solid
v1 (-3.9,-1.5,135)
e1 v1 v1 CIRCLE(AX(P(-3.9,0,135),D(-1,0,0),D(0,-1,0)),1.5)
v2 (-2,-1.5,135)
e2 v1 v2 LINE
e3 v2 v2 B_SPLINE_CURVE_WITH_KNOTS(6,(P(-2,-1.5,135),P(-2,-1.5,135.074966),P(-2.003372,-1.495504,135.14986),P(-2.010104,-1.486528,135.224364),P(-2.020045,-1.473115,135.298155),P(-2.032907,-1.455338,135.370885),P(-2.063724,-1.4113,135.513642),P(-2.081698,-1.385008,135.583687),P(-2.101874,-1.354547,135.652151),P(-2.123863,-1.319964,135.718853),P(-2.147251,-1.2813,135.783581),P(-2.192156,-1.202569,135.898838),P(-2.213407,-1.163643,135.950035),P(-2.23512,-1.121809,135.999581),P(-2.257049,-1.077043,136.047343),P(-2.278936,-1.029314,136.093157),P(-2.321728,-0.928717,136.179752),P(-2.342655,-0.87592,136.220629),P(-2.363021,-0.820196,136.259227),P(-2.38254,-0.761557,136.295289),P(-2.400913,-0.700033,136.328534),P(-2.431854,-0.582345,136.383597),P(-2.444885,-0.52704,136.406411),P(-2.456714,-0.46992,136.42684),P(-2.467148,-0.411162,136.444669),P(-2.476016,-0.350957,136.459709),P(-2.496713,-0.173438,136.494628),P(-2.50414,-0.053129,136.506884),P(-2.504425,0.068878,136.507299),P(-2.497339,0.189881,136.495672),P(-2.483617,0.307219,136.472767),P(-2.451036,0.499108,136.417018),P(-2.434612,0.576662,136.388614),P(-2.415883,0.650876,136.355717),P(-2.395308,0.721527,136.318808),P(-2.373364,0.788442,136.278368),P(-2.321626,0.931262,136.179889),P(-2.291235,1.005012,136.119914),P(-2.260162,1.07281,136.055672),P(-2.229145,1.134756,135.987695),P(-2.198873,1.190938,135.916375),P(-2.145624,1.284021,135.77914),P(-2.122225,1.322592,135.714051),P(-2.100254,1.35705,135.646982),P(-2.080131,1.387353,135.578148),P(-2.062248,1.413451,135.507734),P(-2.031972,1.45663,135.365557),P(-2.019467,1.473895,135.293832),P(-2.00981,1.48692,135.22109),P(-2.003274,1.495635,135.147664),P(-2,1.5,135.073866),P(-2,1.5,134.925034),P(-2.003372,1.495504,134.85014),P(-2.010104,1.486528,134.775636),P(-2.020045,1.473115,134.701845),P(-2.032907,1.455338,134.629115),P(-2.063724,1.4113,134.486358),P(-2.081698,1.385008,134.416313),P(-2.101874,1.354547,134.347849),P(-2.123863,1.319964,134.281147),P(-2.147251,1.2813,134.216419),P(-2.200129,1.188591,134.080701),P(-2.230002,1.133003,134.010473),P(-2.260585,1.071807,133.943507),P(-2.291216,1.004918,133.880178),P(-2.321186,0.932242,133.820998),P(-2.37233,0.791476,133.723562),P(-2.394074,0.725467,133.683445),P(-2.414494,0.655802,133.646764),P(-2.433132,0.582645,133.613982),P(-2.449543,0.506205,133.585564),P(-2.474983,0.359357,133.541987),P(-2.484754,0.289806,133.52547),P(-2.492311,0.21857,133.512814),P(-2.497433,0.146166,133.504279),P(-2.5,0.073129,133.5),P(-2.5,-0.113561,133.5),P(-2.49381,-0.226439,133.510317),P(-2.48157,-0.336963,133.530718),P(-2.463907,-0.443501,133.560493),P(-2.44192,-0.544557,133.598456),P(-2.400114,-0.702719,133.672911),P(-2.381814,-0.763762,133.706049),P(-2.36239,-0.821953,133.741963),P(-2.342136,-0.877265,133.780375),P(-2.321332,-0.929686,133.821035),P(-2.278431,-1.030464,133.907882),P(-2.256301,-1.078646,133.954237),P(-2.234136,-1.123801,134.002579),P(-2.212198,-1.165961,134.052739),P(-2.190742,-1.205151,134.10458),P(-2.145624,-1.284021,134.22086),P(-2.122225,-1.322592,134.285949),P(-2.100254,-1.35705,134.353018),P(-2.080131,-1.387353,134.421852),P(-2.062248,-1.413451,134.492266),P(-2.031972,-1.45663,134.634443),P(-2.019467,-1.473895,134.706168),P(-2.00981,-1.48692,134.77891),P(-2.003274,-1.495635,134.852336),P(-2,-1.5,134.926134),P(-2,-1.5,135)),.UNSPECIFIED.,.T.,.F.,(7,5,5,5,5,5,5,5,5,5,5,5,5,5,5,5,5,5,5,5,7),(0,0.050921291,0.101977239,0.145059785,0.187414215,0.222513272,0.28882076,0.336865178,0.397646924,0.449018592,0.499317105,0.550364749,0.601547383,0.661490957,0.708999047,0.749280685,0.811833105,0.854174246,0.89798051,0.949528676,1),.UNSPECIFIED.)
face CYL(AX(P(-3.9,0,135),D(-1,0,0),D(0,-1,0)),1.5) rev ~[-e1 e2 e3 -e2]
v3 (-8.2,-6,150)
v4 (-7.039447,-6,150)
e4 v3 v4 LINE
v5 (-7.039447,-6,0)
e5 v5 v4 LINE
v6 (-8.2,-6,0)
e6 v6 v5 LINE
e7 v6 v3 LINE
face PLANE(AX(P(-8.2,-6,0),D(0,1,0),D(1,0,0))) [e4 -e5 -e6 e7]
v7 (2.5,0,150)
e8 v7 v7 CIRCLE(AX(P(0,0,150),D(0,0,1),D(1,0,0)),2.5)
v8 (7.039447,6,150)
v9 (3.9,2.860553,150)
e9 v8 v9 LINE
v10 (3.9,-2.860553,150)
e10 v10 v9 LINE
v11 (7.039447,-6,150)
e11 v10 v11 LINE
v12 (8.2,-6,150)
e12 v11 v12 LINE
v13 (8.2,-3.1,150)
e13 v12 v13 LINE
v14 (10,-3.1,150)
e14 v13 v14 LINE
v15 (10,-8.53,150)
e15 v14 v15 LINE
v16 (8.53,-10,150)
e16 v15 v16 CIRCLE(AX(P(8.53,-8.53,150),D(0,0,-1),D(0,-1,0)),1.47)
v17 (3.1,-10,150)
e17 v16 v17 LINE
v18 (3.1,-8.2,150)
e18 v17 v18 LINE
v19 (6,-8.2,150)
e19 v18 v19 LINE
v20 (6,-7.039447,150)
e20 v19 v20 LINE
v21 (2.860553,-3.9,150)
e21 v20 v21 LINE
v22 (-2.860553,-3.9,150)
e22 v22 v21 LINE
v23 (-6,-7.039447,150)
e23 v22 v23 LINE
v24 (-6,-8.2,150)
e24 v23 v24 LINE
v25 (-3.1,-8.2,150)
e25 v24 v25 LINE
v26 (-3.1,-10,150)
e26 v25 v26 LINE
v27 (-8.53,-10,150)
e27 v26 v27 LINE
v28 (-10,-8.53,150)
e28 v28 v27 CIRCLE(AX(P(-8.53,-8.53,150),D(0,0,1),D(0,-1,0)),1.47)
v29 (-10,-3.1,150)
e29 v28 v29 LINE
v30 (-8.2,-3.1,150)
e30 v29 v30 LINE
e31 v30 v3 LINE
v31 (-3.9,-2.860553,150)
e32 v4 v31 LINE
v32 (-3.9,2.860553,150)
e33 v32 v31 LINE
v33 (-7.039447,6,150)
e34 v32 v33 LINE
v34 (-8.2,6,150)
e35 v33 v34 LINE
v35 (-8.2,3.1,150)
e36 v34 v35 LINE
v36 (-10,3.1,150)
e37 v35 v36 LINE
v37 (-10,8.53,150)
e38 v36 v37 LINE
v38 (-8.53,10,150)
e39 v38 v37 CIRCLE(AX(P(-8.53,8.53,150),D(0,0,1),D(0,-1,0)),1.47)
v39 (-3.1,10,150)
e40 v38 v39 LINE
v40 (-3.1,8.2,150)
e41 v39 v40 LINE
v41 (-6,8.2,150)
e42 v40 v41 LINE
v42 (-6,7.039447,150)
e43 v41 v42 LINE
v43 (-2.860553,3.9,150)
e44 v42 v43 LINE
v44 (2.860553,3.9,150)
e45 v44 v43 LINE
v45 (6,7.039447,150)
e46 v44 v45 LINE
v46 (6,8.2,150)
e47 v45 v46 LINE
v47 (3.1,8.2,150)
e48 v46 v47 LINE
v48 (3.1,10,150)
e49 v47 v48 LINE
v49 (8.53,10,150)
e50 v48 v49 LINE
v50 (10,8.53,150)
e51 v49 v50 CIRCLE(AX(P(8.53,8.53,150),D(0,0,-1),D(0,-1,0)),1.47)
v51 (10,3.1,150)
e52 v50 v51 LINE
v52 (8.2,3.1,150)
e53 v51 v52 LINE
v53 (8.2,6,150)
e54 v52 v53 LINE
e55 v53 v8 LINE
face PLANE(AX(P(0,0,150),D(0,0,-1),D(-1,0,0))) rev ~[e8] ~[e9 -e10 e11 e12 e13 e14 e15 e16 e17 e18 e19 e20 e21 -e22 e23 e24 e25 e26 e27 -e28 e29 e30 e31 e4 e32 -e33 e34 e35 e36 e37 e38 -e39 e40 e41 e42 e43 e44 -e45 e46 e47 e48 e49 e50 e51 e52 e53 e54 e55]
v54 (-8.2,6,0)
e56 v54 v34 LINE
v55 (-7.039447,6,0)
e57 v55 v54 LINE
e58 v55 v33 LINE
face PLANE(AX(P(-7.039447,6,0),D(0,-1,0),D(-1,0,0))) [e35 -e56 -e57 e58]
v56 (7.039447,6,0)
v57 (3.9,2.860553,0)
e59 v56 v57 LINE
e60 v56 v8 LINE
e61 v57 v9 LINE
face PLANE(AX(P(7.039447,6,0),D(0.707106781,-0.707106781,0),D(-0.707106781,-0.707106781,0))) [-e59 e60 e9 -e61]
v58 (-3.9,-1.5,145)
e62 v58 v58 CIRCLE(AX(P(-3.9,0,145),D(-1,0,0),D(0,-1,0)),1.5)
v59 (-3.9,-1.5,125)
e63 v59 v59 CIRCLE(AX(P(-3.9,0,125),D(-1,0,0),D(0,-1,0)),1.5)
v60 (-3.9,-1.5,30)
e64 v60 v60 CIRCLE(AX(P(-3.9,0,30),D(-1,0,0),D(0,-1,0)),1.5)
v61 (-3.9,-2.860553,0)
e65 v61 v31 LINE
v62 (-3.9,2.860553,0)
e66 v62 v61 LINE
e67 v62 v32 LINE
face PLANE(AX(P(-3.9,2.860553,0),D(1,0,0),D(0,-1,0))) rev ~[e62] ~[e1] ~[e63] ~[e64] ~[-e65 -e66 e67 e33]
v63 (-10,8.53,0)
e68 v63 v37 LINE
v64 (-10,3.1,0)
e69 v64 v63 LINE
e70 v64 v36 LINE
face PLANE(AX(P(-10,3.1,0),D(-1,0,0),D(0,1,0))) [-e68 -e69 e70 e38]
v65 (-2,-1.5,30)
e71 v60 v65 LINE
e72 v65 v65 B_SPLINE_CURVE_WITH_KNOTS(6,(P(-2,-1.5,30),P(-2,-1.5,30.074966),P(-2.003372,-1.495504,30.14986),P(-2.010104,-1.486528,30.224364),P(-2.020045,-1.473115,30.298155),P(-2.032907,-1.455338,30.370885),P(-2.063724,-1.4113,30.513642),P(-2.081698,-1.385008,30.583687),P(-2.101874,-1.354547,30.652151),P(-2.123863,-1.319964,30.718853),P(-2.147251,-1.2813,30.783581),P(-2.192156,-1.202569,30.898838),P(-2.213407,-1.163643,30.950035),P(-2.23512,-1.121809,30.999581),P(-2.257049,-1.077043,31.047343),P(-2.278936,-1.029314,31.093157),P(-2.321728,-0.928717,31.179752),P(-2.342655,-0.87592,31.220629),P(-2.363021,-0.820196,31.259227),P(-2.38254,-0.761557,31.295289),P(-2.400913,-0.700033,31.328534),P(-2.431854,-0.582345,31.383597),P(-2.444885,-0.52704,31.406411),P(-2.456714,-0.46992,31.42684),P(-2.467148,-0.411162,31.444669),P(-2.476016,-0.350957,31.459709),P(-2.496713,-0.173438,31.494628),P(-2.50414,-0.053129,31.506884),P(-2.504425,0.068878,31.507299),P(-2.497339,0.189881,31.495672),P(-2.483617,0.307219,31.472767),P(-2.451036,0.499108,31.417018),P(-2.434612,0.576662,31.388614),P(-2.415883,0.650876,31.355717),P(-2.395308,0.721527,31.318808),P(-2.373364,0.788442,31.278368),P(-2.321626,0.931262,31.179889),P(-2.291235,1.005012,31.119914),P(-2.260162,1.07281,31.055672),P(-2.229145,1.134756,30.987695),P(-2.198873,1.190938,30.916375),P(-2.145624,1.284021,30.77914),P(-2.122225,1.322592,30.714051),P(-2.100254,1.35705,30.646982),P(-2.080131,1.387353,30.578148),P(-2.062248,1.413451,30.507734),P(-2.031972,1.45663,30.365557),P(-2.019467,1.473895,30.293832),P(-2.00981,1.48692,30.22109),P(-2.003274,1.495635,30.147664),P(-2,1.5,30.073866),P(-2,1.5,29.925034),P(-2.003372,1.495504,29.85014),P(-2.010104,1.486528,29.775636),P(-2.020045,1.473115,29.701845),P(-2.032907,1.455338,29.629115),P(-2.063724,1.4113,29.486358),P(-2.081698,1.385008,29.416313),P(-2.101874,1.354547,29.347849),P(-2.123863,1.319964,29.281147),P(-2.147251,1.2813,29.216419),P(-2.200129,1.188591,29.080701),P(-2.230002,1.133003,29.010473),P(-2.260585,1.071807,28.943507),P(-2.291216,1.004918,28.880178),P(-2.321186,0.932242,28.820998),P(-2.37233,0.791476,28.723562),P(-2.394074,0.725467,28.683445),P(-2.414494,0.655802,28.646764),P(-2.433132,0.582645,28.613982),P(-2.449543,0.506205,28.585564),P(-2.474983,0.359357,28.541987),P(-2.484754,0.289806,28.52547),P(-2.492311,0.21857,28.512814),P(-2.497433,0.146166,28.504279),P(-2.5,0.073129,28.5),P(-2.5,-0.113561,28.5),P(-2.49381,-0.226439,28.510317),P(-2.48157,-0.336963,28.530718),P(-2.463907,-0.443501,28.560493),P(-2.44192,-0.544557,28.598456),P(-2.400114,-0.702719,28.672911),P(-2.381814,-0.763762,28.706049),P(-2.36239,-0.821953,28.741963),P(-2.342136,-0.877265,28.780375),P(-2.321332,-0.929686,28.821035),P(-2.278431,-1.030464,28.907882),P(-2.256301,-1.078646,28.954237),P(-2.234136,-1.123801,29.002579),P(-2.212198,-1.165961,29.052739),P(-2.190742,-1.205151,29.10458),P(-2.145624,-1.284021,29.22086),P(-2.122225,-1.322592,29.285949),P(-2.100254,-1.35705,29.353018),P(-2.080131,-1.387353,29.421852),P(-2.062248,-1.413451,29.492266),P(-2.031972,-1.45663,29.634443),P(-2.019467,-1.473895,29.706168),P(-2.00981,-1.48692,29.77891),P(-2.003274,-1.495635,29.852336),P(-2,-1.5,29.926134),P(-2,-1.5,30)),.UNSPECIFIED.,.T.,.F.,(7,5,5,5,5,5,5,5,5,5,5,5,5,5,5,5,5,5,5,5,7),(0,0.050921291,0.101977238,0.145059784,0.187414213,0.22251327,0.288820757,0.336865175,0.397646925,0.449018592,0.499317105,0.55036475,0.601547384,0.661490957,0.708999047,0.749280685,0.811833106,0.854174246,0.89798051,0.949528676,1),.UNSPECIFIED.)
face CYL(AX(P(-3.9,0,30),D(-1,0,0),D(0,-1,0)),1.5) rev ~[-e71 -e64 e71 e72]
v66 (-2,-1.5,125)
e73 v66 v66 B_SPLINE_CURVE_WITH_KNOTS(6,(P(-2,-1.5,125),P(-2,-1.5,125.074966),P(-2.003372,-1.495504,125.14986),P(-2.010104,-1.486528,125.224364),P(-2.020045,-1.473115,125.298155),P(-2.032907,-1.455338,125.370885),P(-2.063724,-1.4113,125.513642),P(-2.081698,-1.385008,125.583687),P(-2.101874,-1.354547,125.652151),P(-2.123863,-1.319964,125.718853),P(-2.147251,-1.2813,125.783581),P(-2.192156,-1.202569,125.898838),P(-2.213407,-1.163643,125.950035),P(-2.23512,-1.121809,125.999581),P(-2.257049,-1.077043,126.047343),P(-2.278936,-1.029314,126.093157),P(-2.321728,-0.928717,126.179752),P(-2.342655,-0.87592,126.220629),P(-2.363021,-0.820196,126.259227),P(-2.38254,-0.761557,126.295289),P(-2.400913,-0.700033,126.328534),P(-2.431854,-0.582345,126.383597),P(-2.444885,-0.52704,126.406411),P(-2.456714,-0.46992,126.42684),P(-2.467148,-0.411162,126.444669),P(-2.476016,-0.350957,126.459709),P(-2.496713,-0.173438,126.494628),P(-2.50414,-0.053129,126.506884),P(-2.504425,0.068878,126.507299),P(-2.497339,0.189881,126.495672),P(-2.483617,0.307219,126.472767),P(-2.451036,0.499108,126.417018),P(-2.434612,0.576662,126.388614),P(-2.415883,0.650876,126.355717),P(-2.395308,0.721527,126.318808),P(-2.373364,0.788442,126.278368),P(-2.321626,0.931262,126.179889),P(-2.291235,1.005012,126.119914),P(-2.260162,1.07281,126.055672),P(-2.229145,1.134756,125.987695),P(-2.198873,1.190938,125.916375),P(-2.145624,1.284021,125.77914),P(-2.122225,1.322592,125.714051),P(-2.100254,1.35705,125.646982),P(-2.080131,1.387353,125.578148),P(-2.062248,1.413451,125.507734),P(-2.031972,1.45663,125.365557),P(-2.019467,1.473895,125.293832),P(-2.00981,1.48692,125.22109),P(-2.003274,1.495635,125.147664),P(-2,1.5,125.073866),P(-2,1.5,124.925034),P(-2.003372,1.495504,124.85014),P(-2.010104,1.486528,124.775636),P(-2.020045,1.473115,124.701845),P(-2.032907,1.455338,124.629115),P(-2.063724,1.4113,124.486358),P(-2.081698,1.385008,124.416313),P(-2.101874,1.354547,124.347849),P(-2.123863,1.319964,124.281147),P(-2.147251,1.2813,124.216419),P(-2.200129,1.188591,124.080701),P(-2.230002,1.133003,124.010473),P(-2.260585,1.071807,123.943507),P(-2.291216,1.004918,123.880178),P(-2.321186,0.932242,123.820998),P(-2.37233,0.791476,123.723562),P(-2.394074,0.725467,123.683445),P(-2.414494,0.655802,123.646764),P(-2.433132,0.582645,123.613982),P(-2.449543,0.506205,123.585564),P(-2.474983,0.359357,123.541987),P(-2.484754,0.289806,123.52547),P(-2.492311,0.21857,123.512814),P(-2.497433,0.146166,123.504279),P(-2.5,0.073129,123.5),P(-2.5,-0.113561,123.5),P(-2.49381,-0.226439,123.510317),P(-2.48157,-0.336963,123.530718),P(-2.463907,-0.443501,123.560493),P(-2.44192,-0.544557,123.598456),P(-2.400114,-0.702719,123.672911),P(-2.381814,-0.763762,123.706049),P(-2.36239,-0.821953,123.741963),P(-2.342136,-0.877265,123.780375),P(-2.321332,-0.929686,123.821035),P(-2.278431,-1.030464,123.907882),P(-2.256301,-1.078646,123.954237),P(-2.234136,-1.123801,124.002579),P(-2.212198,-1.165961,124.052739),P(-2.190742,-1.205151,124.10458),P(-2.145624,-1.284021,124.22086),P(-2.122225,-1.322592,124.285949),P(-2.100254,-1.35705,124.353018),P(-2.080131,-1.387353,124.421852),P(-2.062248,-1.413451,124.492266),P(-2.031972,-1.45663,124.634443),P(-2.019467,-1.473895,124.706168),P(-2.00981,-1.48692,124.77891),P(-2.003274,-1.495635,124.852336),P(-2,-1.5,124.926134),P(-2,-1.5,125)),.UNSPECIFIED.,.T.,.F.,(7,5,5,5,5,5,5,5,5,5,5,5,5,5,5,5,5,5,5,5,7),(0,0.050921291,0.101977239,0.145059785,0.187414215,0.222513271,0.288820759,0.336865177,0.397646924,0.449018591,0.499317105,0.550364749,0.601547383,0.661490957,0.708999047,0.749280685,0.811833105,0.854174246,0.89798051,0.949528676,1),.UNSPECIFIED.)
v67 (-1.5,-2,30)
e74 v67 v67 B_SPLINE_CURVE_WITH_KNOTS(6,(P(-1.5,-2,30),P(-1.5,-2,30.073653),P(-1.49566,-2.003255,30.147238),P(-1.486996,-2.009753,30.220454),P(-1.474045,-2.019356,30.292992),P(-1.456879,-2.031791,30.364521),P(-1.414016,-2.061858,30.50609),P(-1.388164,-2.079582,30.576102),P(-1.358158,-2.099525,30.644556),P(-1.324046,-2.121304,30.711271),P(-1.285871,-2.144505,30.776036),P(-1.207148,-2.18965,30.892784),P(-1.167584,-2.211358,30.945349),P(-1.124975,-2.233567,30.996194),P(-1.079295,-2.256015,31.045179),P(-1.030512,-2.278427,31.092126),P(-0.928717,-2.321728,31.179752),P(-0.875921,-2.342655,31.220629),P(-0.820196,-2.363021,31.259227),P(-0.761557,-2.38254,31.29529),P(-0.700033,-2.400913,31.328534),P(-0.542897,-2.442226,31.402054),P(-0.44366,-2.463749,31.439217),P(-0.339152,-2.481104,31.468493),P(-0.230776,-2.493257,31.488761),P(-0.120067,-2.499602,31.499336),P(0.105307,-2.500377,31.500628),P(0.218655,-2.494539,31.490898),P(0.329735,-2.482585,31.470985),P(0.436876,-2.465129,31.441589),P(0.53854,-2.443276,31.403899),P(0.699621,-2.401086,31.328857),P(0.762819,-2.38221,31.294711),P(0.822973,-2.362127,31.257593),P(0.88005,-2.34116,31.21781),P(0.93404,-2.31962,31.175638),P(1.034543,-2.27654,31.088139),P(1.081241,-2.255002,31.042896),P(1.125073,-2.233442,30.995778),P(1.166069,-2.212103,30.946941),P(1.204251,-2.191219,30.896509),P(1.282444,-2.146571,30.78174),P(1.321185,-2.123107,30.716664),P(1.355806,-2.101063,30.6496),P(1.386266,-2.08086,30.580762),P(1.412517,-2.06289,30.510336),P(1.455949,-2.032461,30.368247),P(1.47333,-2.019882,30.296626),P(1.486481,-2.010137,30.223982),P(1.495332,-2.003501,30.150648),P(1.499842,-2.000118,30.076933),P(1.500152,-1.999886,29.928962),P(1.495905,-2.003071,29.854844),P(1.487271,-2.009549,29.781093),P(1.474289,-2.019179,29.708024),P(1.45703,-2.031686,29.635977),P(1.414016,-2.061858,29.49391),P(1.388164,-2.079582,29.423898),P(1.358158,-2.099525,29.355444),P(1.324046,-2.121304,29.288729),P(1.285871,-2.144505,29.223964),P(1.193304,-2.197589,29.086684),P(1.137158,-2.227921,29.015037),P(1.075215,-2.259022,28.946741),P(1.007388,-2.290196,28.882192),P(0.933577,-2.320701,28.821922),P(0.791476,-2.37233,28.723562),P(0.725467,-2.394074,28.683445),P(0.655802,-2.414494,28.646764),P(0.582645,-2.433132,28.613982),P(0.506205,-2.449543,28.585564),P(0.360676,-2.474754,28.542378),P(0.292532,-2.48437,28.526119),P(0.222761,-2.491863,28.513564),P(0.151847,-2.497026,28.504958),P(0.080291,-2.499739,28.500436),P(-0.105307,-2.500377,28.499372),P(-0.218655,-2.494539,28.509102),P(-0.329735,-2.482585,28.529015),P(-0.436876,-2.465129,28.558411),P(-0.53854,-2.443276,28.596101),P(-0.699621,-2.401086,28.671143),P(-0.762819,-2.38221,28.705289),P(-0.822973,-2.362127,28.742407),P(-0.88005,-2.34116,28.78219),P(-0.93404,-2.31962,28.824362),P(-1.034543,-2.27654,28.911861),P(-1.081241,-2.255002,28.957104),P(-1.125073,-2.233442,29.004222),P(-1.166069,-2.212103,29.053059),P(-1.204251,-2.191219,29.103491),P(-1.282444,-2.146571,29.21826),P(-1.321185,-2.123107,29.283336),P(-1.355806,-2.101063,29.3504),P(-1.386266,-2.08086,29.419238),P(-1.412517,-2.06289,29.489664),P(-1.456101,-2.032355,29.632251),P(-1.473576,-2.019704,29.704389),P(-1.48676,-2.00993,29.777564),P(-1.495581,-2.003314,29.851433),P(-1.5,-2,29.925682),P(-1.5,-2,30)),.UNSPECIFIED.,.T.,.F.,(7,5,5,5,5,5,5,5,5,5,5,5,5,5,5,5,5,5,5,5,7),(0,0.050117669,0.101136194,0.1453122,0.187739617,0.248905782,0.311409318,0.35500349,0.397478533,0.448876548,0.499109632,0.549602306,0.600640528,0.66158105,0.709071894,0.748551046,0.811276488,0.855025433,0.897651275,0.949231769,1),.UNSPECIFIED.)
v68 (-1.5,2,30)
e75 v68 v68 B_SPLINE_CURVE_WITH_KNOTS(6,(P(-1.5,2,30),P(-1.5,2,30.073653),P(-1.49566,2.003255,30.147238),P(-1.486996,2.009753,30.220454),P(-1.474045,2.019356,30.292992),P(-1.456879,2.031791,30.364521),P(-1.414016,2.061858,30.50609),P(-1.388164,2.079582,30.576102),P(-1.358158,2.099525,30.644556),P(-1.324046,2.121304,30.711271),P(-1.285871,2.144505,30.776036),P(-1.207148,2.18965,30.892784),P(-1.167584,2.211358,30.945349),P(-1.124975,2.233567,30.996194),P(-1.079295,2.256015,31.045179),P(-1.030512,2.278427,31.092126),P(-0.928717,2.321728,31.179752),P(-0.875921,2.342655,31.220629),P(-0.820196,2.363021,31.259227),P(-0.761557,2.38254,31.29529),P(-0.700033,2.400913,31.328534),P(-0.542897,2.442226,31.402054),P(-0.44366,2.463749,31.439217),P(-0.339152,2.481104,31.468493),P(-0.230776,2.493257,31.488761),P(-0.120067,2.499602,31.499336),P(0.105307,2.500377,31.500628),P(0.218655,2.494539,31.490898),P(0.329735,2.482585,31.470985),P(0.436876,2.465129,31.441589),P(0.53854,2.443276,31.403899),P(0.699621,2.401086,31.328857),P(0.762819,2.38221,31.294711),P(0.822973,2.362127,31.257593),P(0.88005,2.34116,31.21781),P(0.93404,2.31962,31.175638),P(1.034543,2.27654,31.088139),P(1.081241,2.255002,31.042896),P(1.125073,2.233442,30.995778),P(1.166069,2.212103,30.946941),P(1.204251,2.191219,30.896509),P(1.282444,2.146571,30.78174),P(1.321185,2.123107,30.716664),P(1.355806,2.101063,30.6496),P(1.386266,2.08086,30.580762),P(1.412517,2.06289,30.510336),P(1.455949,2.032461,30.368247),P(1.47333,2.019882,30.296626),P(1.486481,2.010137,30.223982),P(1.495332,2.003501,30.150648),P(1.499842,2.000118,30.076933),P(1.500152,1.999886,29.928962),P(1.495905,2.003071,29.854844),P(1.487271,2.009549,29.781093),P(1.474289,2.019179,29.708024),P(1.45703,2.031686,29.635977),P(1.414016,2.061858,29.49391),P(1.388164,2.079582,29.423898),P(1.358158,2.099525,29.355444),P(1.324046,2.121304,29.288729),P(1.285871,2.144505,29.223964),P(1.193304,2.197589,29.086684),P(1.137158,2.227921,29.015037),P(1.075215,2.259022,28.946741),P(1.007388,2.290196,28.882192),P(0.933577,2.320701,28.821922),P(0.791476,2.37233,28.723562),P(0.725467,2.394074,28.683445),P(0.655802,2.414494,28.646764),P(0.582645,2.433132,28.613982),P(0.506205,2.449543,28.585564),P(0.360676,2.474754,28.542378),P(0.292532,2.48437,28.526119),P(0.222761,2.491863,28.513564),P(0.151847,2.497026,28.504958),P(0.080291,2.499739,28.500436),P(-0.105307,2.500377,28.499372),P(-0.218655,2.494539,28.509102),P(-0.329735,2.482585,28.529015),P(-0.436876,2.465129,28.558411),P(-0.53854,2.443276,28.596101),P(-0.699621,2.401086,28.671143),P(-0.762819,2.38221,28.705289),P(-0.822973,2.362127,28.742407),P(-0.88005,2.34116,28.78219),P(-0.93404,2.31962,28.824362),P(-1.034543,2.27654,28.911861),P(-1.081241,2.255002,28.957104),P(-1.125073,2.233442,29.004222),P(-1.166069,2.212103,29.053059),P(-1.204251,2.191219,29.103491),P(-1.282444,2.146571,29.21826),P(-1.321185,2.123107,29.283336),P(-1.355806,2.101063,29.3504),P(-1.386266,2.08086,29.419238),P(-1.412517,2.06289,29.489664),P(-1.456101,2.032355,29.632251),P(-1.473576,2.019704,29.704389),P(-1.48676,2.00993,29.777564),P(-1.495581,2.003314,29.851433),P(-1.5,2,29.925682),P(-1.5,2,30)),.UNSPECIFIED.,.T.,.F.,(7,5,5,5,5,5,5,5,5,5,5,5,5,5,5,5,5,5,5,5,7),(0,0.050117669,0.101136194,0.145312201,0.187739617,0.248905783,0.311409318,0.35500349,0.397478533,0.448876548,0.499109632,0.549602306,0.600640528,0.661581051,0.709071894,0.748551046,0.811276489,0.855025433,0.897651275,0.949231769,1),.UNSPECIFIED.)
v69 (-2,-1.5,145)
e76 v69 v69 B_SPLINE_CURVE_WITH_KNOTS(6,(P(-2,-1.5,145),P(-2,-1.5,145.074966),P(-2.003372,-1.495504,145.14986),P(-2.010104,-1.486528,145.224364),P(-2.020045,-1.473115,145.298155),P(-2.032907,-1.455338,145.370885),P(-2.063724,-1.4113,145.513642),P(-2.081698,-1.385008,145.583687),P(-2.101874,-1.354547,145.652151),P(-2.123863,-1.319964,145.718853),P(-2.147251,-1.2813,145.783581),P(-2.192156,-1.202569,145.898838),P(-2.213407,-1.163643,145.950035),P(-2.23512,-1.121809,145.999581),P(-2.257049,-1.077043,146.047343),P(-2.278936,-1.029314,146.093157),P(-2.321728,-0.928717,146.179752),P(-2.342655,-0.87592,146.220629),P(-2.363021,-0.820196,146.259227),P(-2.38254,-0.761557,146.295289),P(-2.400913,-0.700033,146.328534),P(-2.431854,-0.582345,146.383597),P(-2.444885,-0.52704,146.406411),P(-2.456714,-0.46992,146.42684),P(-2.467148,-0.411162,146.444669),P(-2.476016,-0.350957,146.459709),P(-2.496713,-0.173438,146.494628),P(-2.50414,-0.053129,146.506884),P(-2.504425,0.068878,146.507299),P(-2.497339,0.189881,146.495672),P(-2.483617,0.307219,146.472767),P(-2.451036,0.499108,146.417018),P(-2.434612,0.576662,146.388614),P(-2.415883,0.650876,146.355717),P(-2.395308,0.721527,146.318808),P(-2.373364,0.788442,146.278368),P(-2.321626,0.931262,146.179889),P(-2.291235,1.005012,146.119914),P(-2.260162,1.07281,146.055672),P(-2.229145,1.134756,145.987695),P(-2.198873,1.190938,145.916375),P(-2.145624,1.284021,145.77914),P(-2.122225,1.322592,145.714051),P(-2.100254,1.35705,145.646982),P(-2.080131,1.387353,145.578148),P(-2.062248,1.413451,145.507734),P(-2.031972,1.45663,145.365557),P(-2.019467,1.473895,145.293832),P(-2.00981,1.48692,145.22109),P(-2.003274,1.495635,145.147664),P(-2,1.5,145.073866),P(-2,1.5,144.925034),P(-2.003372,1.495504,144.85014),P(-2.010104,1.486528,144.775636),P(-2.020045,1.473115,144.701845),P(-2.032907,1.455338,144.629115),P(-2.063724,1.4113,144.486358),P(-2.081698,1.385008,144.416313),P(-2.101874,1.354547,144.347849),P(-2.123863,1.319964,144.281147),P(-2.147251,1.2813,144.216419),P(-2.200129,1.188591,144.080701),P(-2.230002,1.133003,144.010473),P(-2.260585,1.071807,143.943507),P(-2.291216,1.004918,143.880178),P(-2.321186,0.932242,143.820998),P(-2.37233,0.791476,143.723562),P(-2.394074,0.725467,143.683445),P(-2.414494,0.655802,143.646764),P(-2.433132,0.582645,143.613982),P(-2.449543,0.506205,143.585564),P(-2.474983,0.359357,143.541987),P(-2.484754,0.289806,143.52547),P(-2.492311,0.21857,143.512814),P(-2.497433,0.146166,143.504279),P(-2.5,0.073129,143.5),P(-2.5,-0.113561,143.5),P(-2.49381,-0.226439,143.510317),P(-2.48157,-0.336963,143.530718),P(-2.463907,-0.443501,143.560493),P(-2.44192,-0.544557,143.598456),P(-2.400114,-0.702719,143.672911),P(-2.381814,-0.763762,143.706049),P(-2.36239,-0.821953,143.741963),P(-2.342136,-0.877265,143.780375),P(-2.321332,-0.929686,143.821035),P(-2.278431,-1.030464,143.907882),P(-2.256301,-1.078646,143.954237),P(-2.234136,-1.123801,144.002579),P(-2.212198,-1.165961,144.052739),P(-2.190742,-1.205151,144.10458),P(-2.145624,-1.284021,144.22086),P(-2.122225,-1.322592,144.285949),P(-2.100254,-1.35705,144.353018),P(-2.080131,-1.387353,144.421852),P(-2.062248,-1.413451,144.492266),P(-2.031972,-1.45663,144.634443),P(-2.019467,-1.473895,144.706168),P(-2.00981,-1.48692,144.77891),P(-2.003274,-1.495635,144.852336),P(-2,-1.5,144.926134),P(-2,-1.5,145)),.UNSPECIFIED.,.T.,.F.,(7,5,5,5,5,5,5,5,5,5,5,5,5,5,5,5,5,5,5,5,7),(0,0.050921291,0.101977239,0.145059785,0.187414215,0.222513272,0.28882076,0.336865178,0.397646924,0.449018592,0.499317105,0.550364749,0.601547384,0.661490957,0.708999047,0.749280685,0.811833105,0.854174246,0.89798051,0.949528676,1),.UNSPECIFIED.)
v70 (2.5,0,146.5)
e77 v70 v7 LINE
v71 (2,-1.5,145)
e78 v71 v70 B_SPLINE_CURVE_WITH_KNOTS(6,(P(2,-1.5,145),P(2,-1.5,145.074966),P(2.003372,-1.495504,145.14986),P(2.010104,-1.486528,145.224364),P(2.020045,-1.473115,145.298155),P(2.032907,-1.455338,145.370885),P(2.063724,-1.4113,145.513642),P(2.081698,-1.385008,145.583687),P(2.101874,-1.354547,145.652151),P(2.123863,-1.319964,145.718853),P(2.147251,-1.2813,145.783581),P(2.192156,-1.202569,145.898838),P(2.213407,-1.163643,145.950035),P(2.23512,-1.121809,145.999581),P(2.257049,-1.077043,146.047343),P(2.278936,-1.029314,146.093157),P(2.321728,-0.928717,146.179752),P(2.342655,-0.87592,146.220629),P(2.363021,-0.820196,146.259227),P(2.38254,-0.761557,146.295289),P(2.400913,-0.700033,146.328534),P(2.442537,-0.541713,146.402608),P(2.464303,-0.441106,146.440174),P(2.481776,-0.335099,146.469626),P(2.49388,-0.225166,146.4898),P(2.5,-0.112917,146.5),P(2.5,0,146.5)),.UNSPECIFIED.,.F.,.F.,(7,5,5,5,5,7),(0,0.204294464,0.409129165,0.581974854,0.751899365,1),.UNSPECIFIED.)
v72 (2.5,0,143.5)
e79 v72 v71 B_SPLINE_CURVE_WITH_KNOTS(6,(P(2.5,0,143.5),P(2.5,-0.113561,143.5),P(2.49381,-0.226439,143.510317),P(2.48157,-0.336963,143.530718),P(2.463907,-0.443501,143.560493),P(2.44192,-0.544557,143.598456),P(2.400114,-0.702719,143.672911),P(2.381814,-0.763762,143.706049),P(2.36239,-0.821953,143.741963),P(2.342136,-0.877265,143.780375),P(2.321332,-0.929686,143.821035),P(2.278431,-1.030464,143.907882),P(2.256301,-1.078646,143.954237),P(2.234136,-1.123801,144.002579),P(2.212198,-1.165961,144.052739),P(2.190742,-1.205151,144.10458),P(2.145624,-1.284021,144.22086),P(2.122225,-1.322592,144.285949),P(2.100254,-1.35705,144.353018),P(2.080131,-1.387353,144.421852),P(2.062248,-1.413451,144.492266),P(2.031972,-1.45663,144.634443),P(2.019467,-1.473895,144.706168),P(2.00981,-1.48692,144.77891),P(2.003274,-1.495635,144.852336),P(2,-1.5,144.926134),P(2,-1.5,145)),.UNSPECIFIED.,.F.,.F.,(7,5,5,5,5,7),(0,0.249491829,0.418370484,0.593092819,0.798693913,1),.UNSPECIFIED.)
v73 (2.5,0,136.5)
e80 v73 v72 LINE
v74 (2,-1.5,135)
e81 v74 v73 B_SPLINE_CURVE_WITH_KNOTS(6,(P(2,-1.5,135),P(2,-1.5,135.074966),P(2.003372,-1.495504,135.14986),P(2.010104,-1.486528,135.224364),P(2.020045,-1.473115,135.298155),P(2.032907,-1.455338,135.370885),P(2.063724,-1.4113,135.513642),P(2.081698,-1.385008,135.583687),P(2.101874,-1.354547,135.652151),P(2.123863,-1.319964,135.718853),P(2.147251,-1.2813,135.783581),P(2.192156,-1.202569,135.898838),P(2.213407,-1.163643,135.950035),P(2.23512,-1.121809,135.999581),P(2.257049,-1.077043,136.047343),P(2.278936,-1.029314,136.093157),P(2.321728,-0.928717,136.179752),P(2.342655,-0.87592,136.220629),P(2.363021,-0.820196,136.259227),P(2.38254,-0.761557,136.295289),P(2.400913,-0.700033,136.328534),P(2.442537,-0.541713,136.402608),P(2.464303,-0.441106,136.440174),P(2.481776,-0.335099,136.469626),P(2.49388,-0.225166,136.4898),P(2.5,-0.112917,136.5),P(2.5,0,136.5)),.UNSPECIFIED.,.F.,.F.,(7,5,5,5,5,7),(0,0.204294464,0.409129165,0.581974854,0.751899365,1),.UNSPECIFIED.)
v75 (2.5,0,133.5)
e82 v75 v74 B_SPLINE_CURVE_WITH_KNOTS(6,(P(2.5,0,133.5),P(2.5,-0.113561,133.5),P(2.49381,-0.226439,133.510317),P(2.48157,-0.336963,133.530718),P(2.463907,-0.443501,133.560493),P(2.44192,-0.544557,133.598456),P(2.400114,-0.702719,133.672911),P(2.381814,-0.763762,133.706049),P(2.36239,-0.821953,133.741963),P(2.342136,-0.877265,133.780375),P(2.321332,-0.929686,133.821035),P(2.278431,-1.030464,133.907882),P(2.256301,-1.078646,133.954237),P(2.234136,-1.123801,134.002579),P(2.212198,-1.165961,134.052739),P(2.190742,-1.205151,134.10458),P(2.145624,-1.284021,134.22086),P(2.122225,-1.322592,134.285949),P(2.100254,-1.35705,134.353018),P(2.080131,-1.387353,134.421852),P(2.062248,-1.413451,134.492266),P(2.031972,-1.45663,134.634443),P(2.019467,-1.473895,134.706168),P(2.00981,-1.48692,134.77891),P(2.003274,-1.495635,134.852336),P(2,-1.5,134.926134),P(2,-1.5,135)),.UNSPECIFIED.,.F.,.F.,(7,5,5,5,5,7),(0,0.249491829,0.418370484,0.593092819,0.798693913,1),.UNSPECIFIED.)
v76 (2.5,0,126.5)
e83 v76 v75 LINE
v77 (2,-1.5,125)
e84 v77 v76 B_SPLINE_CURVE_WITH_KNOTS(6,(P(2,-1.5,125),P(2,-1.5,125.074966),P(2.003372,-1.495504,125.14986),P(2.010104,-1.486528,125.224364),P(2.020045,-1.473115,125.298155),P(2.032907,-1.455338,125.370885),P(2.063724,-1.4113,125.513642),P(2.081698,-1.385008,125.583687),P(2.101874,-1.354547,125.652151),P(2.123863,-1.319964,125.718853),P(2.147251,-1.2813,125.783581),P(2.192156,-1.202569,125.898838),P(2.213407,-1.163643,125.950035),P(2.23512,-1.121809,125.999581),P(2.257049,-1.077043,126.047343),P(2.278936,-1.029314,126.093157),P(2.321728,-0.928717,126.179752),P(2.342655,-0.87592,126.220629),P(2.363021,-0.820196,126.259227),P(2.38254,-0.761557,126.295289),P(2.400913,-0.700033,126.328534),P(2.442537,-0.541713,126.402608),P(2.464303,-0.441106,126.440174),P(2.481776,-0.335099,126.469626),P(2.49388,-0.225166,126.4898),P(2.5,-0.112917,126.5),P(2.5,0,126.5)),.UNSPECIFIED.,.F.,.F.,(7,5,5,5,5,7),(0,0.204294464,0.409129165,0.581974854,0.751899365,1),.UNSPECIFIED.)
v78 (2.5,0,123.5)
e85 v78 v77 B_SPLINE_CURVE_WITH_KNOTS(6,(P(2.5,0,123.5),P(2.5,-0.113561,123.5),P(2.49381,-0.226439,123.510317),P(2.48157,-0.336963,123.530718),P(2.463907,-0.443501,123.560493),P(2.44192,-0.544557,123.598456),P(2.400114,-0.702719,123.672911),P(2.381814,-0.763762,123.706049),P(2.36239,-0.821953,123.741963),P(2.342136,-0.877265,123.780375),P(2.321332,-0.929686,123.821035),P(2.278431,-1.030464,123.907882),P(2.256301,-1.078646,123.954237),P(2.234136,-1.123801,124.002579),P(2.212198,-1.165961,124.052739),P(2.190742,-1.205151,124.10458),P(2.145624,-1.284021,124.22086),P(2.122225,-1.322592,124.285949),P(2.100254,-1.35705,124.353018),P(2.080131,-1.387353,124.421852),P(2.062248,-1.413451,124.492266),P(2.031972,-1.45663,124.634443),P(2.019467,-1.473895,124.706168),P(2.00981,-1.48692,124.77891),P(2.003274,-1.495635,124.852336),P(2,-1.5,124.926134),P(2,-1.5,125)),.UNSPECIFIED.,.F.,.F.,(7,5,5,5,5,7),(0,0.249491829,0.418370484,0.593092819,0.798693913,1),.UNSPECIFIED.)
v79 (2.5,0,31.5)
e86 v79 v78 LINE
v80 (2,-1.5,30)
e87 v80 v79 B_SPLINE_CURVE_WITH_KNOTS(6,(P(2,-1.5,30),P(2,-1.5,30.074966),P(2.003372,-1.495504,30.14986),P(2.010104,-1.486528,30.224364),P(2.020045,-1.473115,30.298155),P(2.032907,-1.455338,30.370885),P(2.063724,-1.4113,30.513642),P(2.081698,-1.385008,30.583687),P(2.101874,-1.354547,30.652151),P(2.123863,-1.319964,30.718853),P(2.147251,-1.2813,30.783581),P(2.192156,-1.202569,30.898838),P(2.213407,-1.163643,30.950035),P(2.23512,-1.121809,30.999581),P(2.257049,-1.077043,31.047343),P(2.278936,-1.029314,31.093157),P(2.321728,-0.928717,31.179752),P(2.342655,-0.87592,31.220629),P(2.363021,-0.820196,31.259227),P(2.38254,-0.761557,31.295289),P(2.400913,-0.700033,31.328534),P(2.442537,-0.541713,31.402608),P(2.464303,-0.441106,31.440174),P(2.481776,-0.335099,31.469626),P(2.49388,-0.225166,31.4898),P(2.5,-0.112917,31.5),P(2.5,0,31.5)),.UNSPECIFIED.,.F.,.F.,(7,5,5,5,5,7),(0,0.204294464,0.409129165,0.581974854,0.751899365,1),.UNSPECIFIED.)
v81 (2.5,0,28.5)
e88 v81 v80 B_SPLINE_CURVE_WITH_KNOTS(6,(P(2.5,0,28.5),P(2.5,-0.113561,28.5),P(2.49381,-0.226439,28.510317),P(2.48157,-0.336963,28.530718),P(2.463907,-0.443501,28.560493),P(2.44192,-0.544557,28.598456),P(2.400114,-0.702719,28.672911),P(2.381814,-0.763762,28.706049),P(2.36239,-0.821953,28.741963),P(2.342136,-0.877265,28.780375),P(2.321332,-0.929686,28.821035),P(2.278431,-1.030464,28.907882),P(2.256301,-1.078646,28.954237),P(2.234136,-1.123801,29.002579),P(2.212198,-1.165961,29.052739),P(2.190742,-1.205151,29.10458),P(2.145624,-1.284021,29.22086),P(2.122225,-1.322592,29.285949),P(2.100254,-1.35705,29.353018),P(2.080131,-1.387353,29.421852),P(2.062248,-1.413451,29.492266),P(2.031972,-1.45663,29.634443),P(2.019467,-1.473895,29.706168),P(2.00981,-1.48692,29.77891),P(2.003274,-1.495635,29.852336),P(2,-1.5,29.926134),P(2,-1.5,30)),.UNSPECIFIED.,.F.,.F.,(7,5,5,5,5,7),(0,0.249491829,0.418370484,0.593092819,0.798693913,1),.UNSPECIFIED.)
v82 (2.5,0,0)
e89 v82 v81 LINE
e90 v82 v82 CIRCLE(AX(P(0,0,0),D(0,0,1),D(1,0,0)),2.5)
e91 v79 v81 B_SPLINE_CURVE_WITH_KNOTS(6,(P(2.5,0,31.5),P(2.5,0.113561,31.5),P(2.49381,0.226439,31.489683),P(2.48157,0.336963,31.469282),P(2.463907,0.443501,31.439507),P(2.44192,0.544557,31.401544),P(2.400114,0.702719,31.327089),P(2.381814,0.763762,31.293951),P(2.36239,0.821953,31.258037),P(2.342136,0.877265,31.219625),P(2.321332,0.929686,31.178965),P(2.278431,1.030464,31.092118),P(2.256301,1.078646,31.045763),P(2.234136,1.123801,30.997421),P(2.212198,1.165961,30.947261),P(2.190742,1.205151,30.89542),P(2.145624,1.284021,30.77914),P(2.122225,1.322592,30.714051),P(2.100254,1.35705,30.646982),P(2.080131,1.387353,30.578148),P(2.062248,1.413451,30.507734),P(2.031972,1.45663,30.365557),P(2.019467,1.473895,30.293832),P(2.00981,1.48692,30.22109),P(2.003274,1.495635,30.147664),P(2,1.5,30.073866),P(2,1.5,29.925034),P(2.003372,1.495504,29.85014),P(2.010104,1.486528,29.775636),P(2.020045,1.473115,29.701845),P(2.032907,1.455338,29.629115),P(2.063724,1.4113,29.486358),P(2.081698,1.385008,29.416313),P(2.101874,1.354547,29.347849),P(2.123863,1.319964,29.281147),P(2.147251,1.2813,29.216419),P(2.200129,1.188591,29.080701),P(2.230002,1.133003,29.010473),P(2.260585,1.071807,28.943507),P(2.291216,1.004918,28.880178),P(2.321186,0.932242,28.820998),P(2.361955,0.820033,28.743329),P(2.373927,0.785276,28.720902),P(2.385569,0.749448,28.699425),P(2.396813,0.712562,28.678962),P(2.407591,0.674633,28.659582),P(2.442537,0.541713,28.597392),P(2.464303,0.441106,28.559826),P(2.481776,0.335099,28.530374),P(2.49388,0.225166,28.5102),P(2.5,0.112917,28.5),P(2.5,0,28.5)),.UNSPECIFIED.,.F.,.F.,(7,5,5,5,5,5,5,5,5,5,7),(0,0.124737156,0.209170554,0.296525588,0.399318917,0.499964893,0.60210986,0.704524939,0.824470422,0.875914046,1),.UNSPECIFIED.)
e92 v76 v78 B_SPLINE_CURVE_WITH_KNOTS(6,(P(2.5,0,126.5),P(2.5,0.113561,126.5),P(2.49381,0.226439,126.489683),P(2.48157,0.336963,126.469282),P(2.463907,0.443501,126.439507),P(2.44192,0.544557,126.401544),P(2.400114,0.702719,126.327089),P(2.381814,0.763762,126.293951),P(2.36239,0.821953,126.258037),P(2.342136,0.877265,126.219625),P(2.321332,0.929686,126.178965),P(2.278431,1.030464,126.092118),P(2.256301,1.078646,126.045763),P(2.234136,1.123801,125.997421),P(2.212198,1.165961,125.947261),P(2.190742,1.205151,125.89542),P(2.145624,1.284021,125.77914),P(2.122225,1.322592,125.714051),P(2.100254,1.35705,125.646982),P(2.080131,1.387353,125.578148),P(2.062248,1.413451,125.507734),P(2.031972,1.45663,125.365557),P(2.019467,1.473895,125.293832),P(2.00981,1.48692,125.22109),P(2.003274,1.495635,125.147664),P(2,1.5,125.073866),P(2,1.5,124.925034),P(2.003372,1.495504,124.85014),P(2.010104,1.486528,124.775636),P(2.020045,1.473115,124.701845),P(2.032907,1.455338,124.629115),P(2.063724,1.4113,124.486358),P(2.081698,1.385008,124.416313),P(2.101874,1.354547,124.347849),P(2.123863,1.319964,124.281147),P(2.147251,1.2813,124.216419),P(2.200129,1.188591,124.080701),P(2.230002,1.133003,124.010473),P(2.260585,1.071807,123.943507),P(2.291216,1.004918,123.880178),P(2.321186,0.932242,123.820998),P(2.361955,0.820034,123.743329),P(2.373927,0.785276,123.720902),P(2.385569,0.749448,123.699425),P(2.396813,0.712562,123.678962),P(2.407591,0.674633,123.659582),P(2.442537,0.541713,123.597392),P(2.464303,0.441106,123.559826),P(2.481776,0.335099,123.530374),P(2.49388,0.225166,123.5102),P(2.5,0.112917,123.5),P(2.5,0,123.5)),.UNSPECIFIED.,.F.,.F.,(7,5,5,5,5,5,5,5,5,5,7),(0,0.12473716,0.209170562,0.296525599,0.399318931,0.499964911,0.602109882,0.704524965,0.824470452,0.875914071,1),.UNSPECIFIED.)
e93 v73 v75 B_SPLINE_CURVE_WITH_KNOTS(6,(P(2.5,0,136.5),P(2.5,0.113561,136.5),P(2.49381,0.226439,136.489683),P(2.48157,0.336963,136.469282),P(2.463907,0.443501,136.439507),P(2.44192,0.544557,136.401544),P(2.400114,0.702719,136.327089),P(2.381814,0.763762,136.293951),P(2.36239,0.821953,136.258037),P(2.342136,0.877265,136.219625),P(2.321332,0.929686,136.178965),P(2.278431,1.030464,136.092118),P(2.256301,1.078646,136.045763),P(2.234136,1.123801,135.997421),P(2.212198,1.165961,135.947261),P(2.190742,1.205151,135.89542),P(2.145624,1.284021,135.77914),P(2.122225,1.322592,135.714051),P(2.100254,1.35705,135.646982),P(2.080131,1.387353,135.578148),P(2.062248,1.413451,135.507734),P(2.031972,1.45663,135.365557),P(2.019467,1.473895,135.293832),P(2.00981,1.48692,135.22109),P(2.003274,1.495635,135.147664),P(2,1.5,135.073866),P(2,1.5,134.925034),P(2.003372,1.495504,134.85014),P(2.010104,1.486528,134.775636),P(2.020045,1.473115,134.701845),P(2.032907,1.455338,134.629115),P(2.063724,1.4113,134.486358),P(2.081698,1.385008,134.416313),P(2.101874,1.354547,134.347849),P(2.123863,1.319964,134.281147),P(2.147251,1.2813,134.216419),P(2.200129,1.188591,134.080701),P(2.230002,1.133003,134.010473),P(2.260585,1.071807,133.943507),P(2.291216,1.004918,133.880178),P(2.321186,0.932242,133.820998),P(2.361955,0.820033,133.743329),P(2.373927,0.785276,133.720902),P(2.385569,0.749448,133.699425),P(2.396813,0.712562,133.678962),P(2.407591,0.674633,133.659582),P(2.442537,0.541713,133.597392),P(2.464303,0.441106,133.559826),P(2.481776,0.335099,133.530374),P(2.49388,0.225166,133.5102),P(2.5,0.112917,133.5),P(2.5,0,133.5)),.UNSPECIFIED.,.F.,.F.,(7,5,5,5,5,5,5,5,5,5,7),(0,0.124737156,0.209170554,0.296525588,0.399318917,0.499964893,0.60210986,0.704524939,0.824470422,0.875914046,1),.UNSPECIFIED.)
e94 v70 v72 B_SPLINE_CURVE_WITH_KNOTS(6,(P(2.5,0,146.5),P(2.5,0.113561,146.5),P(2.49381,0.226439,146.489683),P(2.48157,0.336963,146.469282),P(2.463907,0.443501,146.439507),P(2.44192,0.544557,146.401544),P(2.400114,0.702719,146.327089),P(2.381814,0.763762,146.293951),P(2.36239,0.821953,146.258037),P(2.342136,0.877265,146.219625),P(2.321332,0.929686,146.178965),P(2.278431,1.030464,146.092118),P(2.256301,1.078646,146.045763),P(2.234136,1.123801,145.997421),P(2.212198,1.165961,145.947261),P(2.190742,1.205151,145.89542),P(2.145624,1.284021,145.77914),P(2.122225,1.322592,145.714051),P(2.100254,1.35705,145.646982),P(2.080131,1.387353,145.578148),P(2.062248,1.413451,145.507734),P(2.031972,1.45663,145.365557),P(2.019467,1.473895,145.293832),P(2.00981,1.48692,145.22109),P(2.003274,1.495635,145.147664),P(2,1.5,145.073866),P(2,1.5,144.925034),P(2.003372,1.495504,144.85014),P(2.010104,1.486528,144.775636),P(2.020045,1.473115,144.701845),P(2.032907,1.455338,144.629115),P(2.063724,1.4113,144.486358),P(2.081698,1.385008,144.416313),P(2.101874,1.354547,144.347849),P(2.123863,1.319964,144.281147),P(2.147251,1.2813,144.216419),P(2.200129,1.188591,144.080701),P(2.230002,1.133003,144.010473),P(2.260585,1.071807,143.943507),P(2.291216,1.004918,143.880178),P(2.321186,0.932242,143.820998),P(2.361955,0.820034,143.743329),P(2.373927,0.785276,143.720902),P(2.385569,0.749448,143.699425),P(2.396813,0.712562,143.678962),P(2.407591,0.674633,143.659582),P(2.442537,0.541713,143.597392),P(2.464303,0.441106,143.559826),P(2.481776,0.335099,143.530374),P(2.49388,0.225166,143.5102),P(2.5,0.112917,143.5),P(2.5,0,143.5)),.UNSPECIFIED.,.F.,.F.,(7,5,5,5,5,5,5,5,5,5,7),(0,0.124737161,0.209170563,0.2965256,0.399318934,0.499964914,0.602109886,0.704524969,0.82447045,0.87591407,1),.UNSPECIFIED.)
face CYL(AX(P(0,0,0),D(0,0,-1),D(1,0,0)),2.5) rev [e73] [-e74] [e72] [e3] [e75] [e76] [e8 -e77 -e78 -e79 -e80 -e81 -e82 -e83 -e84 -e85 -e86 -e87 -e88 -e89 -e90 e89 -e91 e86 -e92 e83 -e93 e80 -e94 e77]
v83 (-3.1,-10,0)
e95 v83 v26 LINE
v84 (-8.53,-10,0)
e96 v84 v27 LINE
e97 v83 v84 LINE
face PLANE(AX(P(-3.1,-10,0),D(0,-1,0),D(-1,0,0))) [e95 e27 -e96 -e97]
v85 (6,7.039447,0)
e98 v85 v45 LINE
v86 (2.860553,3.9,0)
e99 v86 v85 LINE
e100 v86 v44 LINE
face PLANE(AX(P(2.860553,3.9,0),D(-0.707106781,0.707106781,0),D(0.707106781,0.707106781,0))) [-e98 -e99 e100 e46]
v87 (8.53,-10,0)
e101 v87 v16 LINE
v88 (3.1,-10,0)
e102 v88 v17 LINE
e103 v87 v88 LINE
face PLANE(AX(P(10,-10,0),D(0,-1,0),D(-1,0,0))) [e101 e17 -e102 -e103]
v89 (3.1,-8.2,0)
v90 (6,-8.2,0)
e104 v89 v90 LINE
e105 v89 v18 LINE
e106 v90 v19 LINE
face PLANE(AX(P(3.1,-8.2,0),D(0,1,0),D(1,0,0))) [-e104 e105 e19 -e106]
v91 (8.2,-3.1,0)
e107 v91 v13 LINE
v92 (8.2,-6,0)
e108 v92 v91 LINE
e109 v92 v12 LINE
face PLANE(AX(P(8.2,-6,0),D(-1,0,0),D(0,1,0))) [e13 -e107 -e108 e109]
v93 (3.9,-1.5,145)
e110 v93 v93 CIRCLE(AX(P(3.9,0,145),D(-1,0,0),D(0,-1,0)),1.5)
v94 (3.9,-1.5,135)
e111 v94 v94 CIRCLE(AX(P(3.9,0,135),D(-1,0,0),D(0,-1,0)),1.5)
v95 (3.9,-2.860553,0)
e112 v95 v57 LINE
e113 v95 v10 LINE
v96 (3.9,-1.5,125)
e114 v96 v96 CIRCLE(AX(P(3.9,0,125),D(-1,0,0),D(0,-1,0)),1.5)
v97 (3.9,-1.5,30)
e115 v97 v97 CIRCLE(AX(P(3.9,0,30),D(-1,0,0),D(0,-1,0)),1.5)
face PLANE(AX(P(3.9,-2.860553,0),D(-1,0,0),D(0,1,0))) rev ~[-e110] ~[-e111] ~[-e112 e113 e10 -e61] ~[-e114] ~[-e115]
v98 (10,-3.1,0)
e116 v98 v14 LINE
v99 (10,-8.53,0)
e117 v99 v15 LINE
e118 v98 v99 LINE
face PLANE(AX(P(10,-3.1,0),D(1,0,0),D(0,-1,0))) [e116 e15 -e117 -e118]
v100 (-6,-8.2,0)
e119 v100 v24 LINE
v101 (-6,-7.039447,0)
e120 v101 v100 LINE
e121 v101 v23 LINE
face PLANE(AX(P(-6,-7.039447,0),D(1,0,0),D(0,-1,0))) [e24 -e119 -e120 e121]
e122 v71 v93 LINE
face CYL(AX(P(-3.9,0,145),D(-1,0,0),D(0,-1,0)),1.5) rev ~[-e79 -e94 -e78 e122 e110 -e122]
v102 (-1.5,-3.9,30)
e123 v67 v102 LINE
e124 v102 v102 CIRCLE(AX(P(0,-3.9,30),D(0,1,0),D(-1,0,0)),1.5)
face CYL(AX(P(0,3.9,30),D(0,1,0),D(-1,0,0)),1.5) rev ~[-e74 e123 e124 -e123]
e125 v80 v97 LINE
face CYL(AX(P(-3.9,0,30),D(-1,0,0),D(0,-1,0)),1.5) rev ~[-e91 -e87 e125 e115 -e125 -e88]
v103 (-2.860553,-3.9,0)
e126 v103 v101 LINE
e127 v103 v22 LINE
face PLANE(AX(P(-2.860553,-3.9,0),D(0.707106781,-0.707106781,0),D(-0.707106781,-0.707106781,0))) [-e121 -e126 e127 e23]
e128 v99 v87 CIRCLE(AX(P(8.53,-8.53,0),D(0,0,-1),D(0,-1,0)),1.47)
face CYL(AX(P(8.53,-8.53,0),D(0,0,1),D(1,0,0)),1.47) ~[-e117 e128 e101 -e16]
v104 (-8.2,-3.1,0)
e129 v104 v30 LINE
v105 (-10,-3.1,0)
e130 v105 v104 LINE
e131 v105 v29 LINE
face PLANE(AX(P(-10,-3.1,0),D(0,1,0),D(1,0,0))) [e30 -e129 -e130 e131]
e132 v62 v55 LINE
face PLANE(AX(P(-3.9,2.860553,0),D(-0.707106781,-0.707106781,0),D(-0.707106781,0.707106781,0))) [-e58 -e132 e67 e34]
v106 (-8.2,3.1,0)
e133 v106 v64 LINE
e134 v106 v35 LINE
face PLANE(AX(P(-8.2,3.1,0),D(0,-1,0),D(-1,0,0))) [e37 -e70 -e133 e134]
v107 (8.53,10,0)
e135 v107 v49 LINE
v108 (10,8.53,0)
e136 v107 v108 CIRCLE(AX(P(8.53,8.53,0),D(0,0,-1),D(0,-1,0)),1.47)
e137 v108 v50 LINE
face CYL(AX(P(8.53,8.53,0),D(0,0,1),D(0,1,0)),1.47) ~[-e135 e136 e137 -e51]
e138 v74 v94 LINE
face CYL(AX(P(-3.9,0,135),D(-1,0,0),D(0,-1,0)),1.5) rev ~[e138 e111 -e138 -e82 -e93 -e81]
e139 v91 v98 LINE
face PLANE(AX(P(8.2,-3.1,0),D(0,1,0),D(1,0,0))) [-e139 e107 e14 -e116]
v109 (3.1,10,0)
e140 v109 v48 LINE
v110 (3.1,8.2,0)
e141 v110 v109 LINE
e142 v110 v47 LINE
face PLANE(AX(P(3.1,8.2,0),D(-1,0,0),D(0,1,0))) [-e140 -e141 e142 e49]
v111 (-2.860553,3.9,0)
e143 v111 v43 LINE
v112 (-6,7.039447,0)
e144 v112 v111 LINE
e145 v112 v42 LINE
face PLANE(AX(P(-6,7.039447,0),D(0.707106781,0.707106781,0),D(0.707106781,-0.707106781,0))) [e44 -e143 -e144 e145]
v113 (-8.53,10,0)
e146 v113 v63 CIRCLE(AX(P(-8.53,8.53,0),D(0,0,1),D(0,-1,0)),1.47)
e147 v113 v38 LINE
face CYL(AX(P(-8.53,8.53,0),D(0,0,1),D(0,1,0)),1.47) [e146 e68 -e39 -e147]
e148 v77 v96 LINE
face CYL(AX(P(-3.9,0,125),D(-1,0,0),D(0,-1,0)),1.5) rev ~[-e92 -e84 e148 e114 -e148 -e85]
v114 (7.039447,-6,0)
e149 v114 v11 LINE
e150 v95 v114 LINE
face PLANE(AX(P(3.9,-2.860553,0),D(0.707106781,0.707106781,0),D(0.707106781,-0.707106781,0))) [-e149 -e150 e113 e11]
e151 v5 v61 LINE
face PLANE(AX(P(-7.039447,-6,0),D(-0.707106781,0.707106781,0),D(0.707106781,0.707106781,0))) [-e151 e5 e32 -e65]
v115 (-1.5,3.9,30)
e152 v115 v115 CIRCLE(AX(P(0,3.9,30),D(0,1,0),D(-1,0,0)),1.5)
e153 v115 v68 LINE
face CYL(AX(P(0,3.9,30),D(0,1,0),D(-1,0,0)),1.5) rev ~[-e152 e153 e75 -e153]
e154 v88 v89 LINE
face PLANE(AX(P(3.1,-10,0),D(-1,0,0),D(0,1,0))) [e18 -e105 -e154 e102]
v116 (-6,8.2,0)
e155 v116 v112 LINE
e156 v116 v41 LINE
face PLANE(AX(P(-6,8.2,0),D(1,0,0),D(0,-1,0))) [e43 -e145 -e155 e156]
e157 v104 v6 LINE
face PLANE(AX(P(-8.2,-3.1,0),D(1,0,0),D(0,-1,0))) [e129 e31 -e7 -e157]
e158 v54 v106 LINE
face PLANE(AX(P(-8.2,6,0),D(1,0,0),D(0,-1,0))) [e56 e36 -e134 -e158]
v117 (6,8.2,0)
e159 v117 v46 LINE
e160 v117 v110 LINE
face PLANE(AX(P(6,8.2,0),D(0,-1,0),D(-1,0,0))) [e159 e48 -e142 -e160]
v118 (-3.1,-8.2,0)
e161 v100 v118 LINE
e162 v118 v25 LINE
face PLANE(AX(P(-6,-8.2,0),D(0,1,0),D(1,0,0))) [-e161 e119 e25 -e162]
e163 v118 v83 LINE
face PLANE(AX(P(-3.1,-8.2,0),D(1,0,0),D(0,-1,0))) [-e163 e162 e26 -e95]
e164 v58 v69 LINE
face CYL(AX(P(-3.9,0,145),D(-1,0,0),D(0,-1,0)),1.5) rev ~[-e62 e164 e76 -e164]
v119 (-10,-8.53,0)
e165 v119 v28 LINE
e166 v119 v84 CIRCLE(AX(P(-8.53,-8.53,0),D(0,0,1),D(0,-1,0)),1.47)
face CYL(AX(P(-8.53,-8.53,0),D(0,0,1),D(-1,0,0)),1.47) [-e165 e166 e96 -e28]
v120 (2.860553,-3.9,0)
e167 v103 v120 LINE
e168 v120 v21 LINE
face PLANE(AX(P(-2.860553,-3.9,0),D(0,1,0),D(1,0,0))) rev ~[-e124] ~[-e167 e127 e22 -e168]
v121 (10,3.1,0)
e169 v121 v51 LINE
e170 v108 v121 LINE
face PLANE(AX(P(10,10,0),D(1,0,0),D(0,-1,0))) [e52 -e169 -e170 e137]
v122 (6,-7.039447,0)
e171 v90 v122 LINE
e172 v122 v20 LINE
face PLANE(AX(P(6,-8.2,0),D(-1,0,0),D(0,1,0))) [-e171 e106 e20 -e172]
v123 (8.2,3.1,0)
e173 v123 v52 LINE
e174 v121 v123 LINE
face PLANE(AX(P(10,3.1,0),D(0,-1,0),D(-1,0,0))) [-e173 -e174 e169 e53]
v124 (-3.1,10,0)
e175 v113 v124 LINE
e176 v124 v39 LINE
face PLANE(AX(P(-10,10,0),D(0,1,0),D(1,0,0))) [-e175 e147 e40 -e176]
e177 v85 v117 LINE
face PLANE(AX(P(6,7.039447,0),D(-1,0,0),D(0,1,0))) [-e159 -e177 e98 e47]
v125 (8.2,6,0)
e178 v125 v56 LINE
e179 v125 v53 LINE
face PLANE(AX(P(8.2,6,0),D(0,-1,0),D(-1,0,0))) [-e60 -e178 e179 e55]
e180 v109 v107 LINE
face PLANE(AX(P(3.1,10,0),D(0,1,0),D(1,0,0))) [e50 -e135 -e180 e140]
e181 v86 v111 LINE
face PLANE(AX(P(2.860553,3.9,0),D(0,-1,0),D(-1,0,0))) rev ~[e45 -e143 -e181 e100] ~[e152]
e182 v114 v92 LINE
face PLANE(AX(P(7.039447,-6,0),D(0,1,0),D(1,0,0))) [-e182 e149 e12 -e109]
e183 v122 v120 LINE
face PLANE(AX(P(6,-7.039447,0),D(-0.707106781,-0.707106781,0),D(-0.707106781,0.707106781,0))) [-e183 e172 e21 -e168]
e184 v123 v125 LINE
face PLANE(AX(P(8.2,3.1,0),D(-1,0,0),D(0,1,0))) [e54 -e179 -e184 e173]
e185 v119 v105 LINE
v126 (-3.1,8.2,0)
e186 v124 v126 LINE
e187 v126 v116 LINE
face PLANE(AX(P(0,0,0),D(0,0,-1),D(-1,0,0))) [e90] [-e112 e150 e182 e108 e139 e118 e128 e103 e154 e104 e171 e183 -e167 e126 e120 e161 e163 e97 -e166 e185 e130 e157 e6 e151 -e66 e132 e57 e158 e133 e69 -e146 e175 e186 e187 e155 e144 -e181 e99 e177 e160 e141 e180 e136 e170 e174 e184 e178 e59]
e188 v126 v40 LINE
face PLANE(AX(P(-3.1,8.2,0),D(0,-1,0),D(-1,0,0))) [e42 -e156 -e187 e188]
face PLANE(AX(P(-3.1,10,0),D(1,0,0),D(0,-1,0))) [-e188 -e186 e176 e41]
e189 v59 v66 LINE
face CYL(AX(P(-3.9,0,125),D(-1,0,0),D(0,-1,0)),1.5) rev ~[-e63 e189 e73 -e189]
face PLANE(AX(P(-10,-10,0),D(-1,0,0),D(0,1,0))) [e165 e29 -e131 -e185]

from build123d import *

# Parameters (mm, degrees)
SKETCH1_R           = 2.5
BOSS_EXTRUDE1_DEPTH = 150
FILLET1_R           = 1.47
SKETCH2_R           = 1.5
CUT_EXTRUDE1_DEPTH  = 151.974203094
SKETCH3_R           = 1.5
CUT_EXTRUDE2_DEPTH  = 151.974203194


with BuildPart() as part:
    # Sketch1 → Boss-Extrude1 (new body)
    with BuildSketch(Plane.XY):
        Polygon((2.860553032, 3.9), (6, 7.039446968), (6, 8.2), (3.1, 8.2), (3.1, 10), (10, 10), (10, 3.1), (8.2, 3.1), (8.2, 6), (7.039446968, 6), (3.9, 2.860553032), (3.9, 0), (3.9, -2.860553032), (7.039446968, -6), (8.2, -6), (8.2, -3.1), (10, -3.1), (10, -10), (3.1, -10), (3.1, -8.2), (6, -8.2), (6, -7.039446968), (2.860553032, -3.9), (0, -3.9), (-2.860553032, -3.9), (-6, -7.039446968), (-6, -8.2), (-3.1, -8.2), (-3.1, -10), (-10, -10), (-10, -3.1), (-8.2, -3.1), (-8.2, -6), (-7.039446968, -6), (-3.9, -2.860553032), (-3.9, 0), (-3.9, 2.860553032), (-7.039446968, 6), (-8.2, 6), (-8.2, 3.1), (-10, 3.1), (-10, 10), (-3.1, 10), (-3.1, 8.2), (-6, 8.2), (-6, 7.039446968), (-2.860553032, 3.9), (0, 3.9), align=None)
        Circle(SKETCH1_R, mode=Mode.SUBTRACT)
    extrude(amount=BOSS_EXTRUDE1_DEPTH)

    # Fillet1
    fillet1_edges = [part.edges().sort_by_distance(p)[0] for p in [
        (10, -10, 75),
        (-10, -10, 75),
        (-10, 10, 75),
        (10, 10, 75),
    ]]
    fillet(fillet1_edges, radius=FILLET1_R)

    # Sketch2 → Cut-Extrude1 (cut, through all)
    with BuildSketch(Plane.ZY.offset(3.9)):
        with Locations(Location((145, 0, 0), (0, 0, 270))):
            Circle(SKETCH2_R)
        with Locations(Location((135, 0, 0), (0, 0, 270))):
            Circle(SKETCH2_R)
        with Locations(Location((125, 0, 0), (0, 0, 270))):
            Circle(SKETCH2_R)
        with Locations(Location((30, 0, 0), (0, 0, 270))):
            Circle(SKETCH2_R)
    extrude(amount=-CUT_EXTRUDE1_DEPTH, mode=Mode.SUBTRACT)

    # Sketch3 → Cut-Extrude2 (cut, through all)
    with BuildSketch(Plane(origin=(0, 3.9, 0), x_dir=(1, 0, 0), z_dir=(0, 1, 0))):
        with Locations(Location((0, -30, 0), (0, 0, 180))):
            Circle(SKETCH3_R)
    extrude(amount=-CUT_EXTRUDE2_DEPTH, mode=Mode.SUBTRACT)


solid = part.part
